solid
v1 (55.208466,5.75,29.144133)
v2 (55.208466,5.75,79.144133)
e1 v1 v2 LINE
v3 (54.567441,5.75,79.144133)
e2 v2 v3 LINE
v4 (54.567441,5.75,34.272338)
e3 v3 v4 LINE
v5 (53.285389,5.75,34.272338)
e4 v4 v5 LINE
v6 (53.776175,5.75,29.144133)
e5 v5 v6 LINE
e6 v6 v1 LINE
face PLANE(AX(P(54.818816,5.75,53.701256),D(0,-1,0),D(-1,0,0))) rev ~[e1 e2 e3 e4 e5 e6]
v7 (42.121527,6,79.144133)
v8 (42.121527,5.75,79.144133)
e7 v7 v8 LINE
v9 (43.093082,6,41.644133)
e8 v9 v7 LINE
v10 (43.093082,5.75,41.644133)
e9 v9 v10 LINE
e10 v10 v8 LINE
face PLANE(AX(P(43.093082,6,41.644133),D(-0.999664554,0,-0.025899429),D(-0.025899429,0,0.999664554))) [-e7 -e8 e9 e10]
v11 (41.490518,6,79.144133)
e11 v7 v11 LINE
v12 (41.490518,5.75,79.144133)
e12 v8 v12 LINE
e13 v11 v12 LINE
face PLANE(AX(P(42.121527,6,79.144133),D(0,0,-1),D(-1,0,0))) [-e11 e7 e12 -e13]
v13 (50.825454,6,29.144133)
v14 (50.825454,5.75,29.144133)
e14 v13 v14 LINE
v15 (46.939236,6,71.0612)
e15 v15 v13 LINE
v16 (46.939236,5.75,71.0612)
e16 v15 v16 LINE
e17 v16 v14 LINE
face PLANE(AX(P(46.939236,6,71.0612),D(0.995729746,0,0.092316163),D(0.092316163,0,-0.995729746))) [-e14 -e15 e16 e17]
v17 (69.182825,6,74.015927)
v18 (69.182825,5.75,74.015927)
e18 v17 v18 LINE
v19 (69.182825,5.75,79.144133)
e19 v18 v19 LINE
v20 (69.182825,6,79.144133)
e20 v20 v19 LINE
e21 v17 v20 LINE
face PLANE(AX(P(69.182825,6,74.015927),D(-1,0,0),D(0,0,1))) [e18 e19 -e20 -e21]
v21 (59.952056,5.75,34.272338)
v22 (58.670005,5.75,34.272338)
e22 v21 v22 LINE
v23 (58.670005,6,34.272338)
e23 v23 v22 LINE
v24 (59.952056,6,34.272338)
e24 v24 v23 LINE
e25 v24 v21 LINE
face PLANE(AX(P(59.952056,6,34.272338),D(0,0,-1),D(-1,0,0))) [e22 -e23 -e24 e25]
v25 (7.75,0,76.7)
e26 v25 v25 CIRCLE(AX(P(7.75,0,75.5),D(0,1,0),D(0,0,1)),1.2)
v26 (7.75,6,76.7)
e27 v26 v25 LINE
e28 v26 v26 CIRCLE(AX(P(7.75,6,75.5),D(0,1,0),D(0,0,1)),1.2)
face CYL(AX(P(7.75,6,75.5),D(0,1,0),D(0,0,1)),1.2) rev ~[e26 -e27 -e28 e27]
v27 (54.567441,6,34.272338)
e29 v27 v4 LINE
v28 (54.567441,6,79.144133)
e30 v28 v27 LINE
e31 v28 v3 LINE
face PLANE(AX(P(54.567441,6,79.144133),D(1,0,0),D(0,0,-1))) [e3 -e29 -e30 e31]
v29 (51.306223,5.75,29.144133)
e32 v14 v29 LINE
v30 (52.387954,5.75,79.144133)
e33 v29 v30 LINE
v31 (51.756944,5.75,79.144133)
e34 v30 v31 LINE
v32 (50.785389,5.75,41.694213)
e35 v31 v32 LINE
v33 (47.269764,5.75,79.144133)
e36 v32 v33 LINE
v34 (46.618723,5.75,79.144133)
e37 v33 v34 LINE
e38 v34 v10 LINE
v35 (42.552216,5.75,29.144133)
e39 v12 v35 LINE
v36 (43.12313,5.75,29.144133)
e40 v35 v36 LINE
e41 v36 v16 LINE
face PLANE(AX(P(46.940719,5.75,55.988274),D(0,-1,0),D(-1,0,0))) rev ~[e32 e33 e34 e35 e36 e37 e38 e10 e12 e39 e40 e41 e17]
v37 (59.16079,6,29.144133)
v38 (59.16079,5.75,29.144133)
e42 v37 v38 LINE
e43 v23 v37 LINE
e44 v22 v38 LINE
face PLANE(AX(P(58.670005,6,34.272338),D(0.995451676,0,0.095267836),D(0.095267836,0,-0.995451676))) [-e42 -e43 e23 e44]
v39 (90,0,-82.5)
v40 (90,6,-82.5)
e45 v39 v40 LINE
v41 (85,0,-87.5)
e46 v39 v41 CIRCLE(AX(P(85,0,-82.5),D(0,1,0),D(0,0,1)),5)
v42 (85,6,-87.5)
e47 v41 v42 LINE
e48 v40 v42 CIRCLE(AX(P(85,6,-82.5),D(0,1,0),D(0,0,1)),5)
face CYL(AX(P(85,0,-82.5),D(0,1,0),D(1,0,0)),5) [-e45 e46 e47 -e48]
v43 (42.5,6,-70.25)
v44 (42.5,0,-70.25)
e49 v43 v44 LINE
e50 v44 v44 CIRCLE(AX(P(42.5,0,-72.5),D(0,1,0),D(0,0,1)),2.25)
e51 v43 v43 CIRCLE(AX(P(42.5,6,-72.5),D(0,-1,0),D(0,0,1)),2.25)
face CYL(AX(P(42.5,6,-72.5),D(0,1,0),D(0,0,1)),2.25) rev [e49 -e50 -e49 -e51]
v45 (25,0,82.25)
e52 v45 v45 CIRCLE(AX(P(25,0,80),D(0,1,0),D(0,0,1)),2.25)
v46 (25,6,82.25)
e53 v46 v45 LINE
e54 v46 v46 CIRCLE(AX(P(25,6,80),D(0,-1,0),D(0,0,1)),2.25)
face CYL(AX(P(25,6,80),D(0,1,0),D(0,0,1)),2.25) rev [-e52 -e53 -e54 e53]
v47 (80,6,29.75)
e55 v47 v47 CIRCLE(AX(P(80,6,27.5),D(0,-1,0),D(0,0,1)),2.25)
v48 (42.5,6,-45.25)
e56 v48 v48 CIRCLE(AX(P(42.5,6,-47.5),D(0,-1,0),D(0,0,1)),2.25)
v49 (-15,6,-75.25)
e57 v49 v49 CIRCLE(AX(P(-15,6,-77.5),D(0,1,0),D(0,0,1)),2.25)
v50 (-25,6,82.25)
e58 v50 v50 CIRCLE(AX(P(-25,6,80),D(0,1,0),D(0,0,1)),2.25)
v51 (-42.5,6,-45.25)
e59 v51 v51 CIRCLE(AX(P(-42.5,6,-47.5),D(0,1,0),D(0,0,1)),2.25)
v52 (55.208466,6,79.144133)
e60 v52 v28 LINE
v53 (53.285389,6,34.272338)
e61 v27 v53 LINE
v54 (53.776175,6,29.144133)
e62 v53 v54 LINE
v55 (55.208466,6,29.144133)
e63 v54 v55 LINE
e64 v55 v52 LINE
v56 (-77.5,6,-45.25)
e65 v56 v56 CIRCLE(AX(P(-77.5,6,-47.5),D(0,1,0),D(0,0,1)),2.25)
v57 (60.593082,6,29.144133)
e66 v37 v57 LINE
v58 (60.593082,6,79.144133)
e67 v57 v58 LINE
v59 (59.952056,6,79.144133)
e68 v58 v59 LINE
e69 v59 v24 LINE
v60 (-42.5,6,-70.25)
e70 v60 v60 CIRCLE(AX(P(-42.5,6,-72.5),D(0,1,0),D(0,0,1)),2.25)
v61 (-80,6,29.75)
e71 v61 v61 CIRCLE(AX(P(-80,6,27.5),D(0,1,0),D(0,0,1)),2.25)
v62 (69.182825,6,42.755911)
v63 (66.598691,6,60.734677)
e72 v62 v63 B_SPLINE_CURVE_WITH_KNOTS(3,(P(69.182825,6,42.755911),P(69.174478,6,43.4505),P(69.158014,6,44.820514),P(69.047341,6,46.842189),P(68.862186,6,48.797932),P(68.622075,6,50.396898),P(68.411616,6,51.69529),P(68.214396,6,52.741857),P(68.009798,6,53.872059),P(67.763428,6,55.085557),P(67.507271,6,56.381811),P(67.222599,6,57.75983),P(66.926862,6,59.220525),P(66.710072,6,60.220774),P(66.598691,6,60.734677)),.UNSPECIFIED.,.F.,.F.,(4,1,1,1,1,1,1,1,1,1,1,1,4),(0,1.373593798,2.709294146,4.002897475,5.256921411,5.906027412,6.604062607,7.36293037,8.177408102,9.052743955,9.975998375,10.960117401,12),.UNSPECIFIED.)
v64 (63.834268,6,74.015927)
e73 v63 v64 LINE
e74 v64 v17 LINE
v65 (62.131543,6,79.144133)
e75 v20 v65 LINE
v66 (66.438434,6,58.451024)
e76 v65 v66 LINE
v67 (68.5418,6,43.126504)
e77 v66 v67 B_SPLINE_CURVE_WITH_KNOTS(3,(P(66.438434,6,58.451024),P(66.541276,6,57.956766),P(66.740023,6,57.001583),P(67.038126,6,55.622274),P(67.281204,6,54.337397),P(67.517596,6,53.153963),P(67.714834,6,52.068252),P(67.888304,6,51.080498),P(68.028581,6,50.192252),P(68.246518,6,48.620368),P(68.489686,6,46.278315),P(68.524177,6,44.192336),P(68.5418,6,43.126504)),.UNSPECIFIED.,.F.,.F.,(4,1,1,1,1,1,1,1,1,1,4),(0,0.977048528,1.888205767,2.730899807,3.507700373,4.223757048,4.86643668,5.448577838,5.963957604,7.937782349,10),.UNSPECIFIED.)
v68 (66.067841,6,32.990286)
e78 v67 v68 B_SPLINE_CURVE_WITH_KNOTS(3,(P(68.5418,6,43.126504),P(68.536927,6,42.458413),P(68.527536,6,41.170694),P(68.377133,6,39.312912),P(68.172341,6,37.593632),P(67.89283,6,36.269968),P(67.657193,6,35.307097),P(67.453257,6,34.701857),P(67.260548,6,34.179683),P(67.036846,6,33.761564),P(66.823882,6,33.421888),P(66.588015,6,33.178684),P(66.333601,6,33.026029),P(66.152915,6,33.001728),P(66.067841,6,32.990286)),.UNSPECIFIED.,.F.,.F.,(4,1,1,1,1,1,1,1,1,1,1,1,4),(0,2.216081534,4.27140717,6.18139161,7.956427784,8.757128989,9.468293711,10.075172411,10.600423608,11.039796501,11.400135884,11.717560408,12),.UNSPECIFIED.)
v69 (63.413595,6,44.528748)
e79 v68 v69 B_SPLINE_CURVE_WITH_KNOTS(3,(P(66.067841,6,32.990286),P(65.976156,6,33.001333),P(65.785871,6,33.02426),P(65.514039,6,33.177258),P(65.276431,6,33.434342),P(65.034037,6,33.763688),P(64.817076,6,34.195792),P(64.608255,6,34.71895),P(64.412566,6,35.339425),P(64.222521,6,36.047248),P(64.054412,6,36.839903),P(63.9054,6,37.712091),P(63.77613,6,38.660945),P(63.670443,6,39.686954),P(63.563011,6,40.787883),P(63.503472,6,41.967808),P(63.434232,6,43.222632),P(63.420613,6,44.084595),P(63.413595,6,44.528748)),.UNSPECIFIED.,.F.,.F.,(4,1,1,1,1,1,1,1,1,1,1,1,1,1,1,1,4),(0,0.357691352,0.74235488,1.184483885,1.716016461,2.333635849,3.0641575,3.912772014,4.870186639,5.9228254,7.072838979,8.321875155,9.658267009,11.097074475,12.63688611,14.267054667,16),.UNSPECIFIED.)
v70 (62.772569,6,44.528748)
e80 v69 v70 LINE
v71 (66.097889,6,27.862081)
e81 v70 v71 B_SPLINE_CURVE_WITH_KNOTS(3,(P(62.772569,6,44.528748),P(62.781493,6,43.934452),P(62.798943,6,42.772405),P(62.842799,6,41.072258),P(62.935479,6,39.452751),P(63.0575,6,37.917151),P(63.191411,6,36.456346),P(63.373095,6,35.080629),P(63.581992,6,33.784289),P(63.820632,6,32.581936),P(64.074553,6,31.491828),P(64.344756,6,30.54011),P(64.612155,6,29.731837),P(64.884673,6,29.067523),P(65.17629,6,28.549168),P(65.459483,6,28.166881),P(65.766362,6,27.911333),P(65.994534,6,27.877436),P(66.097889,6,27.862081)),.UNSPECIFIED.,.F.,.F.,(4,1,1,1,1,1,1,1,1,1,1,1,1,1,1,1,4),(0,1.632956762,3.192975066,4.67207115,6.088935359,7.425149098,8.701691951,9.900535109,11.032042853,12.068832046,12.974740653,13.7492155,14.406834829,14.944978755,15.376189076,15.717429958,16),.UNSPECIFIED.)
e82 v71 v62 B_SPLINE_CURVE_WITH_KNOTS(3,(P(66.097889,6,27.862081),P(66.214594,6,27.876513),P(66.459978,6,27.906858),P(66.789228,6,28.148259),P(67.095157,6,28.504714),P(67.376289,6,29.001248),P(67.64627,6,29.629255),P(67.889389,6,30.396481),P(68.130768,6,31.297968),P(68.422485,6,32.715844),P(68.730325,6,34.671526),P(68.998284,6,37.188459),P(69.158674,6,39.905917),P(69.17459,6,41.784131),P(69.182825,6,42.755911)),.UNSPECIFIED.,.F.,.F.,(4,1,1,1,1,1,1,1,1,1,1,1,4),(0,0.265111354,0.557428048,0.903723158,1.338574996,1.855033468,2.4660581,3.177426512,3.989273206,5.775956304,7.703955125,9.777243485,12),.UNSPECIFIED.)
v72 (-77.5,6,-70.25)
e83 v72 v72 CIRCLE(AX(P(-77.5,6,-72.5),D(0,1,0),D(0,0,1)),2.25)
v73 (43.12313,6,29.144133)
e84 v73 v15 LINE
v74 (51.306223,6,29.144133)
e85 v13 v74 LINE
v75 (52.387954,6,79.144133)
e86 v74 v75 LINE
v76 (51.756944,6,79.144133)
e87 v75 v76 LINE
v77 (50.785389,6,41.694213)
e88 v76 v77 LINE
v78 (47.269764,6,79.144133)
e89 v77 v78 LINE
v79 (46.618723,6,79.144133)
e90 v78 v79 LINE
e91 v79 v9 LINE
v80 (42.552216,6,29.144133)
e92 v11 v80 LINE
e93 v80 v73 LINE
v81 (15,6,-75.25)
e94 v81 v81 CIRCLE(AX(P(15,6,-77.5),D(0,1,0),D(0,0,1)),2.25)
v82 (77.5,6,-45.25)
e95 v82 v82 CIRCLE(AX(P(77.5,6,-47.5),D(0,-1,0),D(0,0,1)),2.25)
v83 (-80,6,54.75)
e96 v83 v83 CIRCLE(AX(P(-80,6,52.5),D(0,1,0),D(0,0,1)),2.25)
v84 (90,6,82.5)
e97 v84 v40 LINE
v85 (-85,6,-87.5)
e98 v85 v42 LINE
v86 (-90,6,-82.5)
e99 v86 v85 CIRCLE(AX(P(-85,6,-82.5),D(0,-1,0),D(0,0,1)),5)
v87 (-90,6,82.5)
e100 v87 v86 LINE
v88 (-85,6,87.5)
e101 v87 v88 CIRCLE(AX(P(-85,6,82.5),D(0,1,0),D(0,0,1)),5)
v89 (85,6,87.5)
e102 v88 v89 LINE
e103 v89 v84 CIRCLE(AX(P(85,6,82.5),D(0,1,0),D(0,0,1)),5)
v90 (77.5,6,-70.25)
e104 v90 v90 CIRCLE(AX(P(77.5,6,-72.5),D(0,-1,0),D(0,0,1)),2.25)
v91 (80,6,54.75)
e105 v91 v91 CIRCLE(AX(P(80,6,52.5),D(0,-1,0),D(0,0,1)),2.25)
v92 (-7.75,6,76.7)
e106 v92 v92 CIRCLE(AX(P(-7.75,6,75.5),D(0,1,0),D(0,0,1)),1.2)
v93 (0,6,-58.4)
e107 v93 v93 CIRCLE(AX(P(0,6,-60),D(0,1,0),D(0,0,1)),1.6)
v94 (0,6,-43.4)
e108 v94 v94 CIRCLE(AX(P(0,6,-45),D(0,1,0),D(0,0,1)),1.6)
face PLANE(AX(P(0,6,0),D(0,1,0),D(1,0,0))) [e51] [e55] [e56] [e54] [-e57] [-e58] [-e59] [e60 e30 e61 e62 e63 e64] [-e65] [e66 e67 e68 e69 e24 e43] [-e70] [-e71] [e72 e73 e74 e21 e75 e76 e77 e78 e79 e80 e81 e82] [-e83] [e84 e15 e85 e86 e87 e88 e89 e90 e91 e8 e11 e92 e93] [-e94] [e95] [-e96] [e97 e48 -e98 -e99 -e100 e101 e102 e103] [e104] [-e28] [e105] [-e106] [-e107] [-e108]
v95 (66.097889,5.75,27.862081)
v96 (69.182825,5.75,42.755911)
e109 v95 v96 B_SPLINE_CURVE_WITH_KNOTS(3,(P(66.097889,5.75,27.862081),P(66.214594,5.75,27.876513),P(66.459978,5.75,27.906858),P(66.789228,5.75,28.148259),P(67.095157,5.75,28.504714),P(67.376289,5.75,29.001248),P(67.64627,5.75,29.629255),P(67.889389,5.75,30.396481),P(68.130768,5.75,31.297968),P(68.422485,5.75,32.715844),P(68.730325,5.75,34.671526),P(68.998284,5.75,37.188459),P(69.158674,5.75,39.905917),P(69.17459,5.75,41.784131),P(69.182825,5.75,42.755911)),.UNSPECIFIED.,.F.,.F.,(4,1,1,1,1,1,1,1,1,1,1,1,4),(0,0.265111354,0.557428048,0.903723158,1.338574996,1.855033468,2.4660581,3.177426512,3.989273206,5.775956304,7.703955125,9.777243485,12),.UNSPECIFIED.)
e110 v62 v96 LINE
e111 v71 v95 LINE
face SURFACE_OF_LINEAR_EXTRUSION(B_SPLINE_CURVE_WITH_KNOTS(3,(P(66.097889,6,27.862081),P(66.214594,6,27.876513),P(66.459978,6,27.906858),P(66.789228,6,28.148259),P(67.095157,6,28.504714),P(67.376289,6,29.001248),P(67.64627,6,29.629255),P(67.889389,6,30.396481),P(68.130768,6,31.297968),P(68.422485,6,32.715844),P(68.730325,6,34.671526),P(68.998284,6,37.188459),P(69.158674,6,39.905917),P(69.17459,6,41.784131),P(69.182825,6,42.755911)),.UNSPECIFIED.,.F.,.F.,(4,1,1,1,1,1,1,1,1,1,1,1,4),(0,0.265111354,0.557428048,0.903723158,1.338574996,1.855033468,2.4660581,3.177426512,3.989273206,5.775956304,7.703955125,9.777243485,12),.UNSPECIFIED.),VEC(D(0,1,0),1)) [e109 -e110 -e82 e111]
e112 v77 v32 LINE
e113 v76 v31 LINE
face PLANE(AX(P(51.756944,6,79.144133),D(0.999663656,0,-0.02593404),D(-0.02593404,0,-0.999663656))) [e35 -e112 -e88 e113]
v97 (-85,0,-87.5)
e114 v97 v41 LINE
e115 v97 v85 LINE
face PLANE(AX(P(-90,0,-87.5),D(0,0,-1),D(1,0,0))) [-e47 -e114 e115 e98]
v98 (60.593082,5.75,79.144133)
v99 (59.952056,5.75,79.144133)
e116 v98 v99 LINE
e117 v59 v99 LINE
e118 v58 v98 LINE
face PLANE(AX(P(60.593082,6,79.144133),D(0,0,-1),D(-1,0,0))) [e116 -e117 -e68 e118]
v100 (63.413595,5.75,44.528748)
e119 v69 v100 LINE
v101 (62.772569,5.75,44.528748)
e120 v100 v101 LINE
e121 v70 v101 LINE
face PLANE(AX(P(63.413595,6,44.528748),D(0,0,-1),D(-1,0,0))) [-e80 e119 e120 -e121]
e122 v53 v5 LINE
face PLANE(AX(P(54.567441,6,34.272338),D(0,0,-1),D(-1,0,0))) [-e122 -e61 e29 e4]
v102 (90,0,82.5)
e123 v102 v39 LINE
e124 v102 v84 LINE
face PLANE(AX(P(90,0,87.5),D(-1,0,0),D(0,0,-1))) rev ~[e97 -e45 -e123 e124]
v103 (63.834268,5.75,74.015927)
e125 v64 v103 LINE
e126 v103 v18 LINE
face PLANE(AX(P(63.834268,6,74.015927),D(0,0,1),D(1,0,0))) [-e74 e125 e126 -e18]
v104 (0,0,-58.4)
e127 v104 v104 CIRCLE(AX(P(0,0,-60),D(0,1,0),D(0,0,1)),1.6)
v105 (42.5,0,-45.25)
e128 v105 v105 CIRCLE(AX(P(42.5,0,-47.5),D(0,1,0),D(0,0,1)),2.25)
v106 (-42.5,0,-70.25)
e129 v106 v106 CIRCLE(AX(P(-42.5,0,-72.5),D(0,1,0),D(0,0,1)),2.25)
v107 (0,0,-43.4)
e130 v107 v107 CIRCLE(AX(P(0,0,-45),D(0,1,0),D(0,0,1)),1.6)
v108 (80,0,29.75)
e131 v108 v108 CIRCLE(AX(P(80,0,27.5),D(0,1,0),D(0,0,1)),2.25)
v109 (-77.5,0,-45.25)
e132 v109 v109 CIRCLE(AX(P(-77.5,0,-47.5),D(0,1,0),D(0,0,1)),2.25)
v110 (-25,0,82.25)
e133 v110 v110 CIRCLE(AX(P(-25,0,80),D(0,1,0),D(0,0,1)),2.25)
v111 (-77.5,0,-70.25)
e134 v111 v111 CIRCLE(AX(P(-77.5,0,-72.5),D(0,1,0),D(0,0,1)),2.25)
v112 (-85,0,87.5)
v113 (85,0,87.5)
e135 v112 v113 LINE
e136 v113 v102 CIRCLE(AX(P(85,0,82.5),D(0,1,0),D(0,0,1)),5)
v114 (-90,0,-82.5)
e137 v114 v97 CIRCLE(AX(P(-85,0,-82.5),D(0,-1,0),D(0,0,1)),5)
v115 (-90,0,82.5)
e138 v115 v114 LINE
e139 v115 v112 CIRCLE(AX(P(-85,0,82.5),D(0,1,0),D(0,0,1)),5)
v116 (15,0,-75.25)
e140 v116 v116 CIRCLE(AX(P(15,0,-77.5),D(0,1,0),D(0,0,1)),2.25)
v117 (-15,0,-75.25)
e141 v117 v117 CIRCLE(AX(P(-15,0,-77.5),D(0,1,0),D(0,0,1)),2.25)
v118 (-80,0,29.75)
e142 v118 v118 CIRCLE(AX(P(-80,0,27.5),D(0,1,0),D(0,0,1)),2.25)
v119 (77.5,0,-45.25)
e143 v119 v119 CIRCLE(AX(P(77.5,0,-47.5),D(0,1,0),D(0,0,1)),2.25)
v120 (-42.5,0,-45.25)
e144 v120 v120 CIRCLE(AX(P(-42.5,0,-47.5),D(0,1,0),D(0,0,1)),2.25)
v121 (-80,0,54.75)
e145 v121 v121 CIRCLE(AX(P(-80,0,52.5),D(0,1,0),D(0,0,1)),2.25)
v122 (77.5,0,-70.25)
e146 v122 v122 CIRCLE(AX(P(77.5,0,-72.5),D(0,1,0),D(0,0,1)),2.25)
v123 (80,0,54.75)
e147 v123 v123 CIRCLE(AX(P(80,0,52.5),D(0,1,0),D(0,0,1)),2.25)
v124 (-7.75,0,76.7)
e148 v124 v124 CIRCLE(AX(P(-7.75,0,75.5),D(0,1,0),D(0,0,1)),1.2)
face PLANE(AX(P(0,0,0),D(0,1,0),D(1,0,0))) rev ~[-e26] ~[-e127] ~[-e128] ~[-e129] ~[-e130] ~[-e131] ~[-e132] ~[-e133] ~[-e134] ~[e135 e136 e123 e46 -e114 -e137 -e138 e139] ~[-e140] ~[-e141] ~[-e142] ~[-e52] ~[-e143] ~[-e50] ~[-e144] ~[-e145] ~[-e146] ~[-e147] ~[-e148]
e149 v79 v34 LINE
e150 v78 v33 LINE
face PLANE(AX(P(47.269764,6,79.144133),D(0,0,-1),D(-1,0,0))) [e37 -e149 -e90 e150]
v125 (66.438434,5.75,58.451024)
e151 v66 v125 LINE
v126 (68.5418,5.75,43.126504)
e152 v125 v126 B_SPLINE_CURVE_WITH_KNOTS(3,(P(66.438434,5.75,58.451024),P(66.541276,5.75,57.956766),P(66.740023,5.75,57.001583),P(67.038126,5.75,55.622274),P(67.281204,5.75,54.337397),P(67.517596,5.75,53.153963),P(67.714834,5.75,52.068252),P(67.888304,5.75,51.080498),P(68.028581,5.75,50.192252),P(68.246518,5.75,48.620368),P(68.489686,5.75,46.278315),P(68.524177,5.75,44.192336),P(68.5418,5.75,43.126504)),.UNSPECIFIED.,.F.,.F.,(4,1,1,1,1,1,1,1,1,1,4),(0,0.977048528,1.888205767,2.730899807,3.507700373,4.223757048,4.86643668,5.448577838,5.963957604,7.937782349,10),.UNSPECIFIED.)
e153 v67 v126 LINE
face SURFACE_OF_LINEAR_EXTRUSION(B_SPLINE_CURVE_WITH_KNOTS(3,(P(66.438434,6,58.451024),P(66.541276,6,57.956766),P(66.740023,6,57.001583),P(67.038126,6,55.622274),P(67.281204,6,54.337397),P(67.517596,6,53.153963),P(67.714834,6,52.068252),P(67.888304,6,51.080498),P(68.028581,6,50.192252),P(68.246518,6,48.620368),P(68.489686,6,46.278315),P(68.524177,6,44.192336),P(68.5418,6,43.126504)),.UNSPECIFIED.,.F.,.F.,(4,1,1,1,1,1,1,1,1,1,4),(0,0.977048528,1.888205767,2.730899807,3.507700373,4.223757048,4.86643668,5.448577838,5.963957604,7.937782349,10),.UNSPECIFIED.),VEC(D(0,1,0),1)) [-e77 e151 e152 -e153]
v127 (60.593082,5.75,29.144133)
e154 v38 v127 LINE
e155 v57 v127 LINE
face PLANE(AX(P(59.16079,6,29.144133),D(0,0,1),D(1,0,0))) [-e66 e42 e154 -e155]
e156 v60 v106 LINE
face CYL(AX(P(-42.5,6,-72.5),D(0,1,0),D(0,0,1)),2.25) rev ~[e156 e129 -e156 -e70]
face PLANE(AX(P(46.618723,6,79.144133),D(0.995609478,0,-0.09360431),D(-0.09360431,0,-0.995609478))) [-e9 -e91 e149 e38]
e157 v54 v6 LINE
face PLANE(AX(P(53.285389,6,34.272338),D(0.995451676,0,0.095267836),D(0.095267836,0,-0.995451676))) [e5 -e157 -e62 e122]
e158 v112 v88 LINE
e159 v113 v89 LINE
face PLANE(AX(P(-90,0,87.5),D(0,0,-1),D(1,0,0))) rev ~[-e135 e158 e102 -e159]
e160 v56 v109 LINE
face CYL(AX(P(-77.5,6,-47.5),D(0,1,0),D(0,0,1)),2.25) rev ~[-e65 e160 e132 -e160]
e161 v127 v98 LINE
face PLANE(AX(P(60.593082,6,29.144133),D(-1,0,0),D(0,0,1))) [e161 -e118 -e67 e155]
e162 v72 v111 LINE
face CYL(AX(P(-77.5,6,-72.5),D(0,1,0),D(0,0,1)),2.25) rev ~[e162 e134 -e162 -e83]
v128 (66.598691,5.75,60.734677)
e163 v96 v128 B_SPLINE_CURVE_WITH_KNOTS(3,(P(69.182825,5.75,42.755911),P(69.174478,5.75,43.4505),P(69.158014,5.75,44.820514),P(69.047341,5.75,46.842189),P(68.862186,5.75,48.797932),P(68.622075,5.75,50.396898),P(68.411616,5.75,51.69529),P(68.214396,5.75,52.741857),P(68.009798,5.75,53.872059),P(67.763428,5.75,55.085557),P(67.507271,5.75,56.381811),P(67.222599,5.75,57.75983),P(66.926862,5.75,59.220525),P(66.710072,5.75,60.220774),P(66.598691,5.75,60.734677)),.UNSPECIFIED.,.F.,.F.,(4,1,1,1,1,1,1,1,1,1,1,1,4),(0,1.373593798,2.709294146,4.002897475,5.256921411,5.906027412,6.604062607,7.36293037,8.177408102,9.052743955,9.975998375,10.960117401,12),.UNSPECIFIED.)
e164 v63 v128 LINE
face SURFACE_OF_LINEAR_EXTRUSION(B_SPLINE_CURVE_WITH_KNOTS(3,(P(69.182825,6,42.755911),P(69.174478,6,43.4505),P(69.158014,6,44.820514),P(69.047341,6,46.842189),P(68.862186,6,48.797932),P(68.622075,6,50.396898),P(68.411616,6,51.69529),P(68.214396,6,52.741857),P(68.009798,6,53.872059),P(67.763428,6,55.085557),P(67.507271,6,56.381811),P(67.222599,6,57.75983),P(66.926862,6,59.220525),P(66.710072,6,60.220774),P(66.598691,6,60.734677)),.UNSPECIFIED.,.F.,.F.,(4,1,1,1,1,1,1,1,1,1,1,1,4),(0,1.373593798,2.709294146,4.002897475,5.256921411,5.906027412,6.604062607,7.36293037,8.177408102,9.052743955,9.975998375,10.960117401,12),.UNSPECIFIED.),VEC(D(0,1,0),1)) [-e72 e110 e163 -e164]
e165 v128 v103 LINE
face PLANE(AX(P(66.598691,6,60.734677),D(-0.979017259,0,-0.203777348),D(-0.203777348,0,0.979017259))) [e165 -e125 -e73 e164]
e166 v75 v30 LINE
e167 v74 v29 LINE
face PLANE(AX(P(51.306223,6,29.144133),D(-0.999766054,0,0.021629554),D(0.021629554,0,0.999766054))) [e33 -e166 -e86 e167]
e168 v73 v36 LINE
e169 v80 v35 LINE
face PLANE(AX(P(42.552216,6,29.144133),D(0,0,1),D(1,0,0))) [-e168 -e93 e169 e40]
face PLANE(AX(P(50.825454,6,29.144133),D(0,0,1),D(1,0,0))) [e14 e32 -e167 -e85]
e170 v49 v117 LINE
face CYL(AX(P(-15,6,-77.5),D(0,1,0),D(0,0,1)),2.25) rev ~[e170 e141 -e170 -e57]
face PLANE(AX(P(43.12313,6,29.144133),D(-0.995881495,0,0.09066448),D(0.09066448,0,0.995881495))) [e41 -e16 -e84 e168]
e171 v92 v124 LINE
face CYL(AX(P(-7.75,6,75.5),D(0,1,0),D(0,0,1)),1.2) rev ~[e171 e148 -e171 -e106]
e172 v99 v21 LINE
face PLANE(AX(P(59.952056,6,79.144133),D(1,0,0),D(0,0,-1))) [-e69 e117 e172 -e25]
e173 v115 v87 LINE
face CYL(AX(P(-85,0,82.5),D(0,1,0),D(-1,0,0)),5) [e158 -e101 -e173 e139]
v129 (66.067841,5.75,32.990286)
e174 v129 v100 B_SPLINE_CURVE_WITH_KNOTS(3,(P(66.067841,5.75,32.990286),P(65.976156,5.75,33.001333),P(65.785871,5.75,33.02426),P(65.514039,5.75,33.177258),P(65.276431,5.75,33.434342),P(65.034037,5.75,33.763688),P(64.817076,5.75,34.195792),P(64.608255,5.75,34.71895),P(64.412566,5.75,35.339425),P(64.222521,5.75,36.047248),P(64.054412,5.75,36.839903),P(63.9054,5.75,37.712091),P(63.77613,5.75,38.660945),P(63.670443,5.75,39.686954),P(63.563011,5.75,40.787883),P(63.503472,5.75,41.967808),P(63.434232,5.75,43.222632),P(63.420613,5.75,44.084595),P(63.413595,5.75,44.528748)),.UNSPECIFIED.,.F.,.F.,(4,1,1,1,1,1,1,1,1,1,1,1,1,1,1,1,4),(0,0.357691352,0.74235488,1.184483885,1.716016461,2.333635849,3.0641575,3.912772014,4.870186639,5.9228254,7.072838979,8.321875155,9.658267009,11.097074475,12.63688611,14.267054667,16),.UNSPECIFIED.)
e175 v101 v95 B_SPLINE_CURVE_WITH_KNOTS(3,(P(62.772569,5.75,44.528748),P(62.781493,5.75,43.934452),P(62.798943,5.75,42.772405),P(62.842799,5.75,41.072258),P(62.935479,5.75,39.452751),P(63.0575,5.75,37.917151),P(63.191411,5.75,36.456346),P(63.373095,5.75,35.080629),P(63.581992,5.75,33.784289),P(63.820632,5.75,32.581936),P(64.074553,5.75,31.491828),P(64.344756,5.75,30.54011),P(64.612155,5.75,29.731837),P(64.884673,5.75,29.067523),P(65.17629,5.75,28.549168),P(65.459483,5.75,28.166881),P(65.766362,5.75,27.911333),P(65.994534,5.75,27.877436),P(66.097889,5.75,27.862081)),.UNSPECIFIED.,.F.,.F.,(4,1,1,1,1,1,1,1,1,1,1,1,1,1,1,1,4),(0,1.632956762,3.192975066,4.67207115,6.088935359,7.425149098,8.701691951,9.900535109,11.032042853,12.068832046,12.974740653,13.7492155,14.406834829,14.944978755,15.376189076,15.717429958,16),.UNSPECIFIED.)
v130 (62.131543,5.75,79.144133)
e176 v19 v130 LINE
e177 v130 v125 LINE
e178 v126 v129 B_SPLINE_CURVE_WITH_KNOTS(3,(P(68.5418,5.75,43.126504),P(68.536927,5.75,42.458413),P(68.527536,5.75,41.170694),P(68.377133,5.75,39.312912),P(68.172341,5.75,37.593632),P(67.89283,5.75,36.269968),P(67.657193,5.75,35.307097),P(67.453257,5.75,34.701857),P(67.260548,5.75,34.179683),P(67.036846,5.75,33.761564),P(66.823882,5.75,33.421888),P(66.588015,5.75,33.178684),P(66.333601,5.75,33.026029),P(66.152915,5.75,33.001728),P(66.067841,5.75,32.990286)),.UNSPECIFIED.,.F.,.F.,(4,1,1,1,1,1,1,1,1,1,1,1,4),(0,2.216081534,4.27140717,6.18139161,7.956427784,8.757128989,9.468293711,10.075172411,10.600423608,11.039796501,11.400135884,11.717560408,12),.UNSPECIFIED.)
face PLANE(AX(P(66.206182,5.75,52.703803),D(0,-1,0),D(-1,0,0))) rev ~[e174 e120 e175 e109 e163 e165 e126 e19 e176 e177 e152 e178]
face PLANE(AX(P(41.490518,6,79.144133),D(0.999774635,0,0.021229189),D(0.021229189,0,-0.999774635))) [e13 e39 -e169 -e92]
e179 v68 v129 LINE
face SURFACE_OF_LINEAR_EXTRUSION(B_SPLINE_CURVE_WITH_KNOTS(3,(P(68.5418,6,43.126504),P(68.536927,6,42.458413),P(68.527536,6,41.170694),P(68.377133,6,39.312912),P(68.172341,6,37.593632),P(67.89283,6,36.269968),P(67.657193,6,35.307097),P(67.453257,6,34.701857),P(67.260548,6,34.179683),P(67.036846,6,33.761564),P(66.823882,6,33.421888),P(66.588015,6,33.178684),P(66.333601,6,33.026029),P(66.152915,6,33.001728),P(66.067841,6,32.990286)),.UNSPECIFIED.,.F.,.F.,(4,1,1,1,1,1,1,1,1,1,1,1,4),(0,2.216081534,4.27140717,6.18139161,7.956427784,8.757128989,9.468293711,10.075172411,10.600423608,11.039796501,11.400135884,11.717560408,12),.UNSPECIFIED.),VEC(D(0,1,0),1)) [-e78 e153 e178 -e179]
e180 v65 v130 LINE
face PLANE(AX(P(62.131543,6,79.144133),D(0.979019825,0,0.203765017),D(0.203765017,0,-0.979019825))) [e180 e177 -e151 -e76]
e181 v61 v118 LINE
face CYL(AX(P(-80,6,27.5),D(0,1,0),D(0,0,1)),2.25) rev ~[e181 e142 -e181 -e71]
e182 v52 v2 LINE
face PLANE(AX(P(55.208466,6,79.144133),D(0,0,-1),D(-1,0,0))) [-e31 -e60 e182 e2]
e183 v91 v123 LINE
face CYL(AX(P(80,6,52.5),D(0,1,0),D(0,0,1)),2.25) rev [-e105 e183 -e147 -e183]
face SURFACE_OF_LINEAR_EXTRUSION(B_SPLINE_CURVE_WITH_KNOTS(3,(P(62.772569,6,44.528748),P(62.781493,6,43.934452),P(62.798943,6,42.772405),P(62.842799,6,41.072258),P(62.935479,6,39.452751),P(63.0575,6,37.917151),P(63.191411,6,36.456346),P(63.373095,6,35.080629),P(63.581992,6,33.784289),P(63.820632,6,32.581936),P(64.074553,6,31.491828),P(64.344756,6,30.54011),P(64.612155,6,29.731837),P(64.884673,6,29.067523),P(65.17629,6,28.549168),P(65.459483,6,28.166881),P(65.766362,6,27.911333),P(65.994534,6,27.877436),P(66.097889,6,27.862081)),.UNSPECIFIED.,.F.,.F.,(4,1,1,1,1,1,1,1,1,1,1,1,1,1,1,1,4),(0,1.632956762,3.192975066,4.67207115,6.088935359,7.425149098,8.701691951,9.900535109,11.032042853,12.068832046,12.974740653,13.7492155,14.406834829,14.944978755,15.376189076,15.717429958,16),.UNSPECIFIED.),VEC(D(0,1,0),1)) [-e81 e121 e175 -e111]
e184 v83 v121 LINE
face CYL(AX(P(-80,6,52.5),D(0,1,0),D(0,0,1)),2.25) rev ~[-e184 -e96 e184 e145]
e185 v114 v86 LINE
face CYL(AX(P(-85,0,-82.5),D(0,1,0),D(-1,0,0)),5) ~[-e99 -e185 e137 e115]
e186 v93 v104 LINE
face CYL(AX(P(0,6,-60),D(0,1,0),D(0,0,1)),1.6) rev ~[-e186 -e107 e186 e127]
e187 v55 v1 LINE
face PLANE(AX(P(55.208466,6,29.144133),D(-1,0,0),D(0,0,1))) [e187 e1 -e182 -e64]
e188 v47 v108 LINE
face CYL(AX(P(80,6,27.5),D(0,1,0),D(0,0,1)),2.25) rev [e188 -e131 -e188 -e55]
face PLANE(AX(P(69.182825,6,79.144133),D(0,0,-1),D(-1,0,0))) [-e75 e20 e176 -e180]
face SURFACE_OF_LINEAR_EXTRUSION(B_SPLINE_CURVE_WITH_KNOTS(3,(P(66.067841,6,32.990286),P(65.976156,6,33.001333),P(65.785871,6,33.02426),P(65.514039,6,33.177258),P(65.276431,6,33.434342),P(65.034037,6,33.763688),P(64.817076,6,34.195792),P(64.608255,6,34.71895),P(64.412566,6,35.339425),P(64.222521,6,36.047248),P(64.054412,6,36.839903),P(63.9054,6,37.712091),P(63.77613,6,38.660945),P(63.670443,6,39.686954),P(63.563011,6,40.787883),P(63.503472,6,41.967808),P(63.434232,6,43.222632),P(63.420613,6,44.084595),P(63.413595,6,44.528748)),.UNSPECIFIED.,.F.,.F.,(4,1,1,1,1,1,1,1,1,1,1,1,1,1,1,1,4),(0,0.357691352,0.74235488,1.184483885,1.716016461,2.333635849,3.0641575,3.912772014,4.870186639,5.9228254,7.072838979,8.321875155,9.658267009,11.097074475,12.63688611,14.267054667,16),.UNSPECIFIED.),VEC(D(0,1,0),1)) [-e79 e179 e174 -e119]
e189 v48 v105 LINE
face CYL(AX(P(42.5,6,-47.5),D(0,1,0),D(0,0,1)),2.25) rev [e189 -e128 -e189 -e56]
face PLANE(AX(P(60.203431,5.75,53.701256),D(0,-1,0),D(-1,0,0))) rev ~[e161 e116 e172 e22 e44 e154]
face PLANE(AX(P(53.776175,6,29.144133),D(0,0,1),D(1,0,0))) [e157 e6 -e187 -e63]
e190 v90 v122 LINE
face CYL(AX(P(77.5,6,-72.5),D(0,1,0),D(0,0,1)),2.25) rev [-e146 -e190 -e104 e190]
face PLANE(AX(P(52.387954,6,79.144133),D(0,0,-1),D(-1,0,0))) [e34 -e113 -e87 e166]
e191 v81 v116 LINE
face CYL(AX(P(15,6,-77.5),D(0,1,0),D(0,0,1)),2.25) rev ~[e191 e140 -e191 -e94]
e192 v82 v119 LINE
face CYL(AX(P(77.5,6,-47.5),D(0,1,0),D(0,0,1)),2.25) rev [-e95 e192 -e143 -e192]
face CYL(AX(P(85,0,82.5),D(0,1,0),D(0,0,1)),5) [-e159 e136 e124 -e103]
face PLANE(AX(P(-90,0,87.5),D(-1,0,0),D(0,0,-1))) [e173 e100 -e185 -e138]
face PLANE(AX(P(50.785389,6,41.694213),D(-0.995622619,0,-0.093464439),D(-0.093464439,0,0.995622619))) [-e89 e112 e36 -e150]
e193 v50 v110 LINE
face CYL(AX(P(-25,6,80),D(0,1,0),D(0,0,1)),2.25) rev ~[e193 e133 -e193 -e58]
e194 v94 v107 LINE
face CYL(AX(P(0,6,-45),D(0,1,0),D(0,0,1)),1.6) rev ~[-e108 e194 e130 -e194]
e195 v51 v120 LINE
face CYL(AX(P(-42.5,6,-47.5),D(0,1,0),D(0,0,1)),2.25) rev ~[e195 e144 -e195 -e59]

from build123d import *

# Parameters (mm, degrees)
SKETCH1_W                 = 180
SKETCH1_H                 = 175
PLATE_DEPTH               = 6
FILLET_CORNERS_R          = 5
SKETCH2_R                 = 2.25
MOTOR_BRACKET_HOLES_DEPTH = 126.667219274
SKETCH3_R                 = 1.2
CASTER_HOLES_DEPTH        = 126.667219274
SKETCH4_R                 = 2.25
ULTRASOUND_HOLES_DEPTH    = 126.667219274
SKETCH6_R                 = 2.25
BATTERY_CAGE_HOLES_DEPTH  = 126.667219274
SKETCH5_R                 = 2.25
FRONT_HOLES_DEPTH         = 126.667219274
TEAM_NAME_DEPTH           = 0.25
SKETCH8_R                 = 1.6
BEACON_HOLES_DEPTH        = 126.667219415


with BuildPart() as part:
    # Sketch1 → plate (new body)
    with BuildSketch(Plane(origin=(0, 0, 0), x_dir=(1, 0, 0), z_dir=(0, 1, 0))):
        Rectangle(SKETCH1_W, SKETCH1_H)
    extrude(amount=PLATE_DEPTH)

    # Fillet corners
    fillet_corners_edges = [part.edges().sort_by_distance(p)[0] for p in [
        (-90, 3, -87.5),
        (90, 3, -87.5),
        (90, 3, 87.5),
        (-90, 3, 87.5),
    ]]
    fillet(fillet_corners_edges, radius=FILLET_CORNERS_R)

    # Sketch2 → motor bracket holes (cut, through all)
    with BuildSketch(Plane(origin=(0, 6, 0), x_dir=(1, 0, 0), z_dir=(0, 1, 0))):
        with Locations(Location((-77.5, 72.5, 0), (0, 0, 270))):
            Circle(SKETCH2_R)
        with Locations(Location((-42.5, 72.5, 0), (0, 0, 270))):
            Circle(SKETCH2_R)
        with Locations(Location((-42.5, 47.5, 0), (0, 0, 270))):
            Circle(SKETCH2_R)
        with Locations(Location((-77.5, 47.5, 0), (0, 0, 270))):
            Circle(SKETCH2_R)
    motor_bracket_holes = extrude(amount=-MOTOR_BRACKET_HOLES_DEPTH, mode=Mode.SUBTRACT)

    # Sketch3 → caster holes (cut, through all)
    with BuildSketch(Plane(origin=(0, 6, 0), x_dir=(1, 0, 0), z_dir=(0, 1, 0))):
        with Locations(Location((-7.75, -75.5, 0), (0, 0, 270))):
            Circle(SKETCH3_R)
        with Locations(Location((7.75, -75.5, 0), (0, 0, 270))):
            Circle(SKETCH3_R)
    extrude(amount=-CASTER_HOLES_DEPTH, mode=Mode.SUBTRACT)

    # Sketch4 → ultrasound holes (cut, through all)
    with BuildSketch(Plane(origin=(0, 6, 0), x_dir=(1, 0, 0), z_dir=(0, 1, 0))):
        with Locations(Location((-80, -52.5, 0), (0, 0, 270))):
            Circle(SKETCH4_R)
        with Locations(Location((-80, -27.5, 0), (0, 0, 270))):
            Circle(SKETCH4_R)
    ultrasound_holes = extrude(amount=-ULTRASOUND_HOLES_DEPTH, mode=Mode.SUBTRACT)

    # Sketch6 → battery cage holes (cut, through all)
    with BuildSketch(Plane(origin=(0, 6, 0), x_dir=(1, 0, 0), z_dir=(0, 1, 0))):
        with Locations(Location((-25, -80, 0), (0, 0, 270))):
            Circle(SKETCH6_R)
    battery_cage_holes = extrude(amount=-BATTERY_CAGE_HOLES_DEPTH, mode=Mode.SUBTRACT)

    # Sketch5 → front holes (cut, through all)
    with BuildSketch(Plane(origin=(0, 6, 0), x_dir=(1, 0, 0), z_dir=(0, 1, 0))):
        with Locations(Location((-15, 77.5, 0), (0, 0, 270))):
            Circle(SKETCH5_R)
        with Locations(Location((15, 77.5, 0), (0, 0, 270))):
            Circle(SKETCH5_R)
    extrude(amount=-FRONT_HOLES_DEPTH, mode=Mode.SUBTRACT)

    # Mirror holes: motor bracket holes, ultrasound holes, battery cage holes across plane
    add(motor_bracket_holes.mirror(Plane(origin=(0, 0, 0), x_dir=(0, 0, 1), z_dir=(1, 0, 0))), mode=Mode.SUBTRACT)
    add(ultrasound_holes.mirror(Plane(origin=(0, 0, 0), x_dir=(0, 0, 1), z_dir=(1, 0, 0))), mode=Mode.SUBTRACT)
    add(battery_cage_holes.mirror(Plane(origin=(0, 0, 0), x_dir=(0, 0, 1), z_dir=(1, 0, 0))), mode=Mode.SUBTRACT)

    # Sketch7 → team name (cut)
    with BuildSketch(Plane(origin=(0, 6, 0), x_dir=(1, 0, 0), z_dir=(0, 1, 0))):
        Polygon((41.490517689, -79.14413255), (42.552216407, -29.14413255), (43.123129869, -29.14413255), (46.939235638, -71.061199858), (50.825453587, -29.14413255), (51.306222818, -29.14413255), (52.387953587, -79.14413255), (51.756943972, -79.14413255), (50.785389484, -41.694212678), (47.269764484, -79.14413255), (46.618722818, -79.14413255), (43.093081792, -41.64413255), (42.121527305, -79.14413255), align=None)
        Polygon((53.776174741, -29.14413255), (55.208466407, -29.14413255), (55.208466407, -79.14413255), (54.567440766, -79.14413255), (54.567440766, -34.272337678), (53.285389484, -34.272337678), align=None)
        Polygon((59.160790125, -29.14413255), (60.593081792, -29.14413255), (60.593081792, -79.14413255), (59.952056151, -79.14413255), (59.952056151, -34.272337678), (58.670004869, -34.272337678), align=None)
        with BuildLine():
            Line((63.413594613, -44.528747935), (62.772568972, -44.528747935))
            add(Edge.make_bspline(
                [(62.772568972, -44.528747935), (62.781493316, -43.93445176), (62.798943386, -42.772404539), (62.842798919, -41.072258174), (62.935478667, -39.452750644), (63.05750017, -37.917150742), (63.19141105, -36.456345848), (63.373095419, -35.080629373), (63.581991977, -33.784289246), (63.820632002, -32.581935586), (64.074552978, -31.491828406), (64.344756451, -30.540110197), (64.61215525, -29.731836807), (64.884672979, -29.067522721), (65.17629041, -28.549168463), (65.459482684, -28.166880995), (65.766362376, -27.911333409), (65.994533796, -27.877435937), (66.097889484, -27.862081268)],
                knots=[0, 0, 0, 0, 1.632956762, 3.192975066, 4.67207115, 6.088935359, 7.425149098, 8.701691951, 9.900535109, 11.032042853, 12.068832046, 12.974740653, 13.7492155, 14.406834829, 14.944978755, 15.376189076, 15.717429958, 16, 16, 16, 16], degree=3))
            add(Edge.make_bspline(
                [(66.097889484, -27.862081268), (66.214593659, -27.876513312), (66.459978019, -27.906858394), (66.789228182, -28.148258945), (67.095157034, -28.504713995), (67.376289014, -29.00124848), (67.646270357, -29.629255057), (67.889389184, -30.396480918), (68.13076794, -31.297967968), (68.422485253, -32.715843502), (68.730325215, -34.671525798), (68.998284034, -37.188458627), (69.158674349, -39.905916797), (69.174590453, -41.784130898), (69.182825382, -42.755911396)],
                knots=[0, 0, 0, 0, 0.265111354, 0.557428048, 0.903723158, 1.338574996, 1.855033468, 2.4660581, 3.177426512, 3.989273206, 5.775956304, 7.703955125, 9.777243485, 12, 12, 12, 12], degree=3))
            add(Edge.make_bspline(
                [(69.182825382, -42.755911396), (69.174478109, -43.45049961), (69.15801384, -44.820514374), (69.047340862, -46.842189249), (68.862186477, -48.797931916), (68.622075004, -50.396898082), (68.411616198, -51.695290325), (68.214396392, -52.741857038), (68.009797757, -53.872058653), (67.763428304, -55.085556549), (67.507271104, -56.381810617), (67.222599468, -57.759829632), (66.926861643, -59.220525286), (66.710071993, -60.220774042), (66.598690766, -60.734677422)],
                knots=[0, 0, 0, 0, 1.373593798, 2.709294146, 4.002897475, 5.256921411, 5.906027412, 6.604062607, 7.36293037, 8.177408102, 9.052743955, 9.975998375, 10.960117401, 12, 12, 12, 12], degree=3))
            Line((66.598690766, -60.734677422), (63.834267689, -74.015927422))
            Line((63.834267689, -74.015927422), (69.182825382, -74.015927422))
            Line((69.182825382, -74.015927422), (69.182825382, -79.14413255))
            Line((69.182825382, -79.14413255), (62.13154333, -79.14413255))
            Line((62.13154333, -79.14413255), (66.438434356, -58.451023576))
            add(Edge.make_bspline(
                [(66.438434356, -58.451023576), (66.541275625, -57.956765987), (66.740022638, -57.001583104), (67.038126467, -55.62227416), (67.281204083, -54.337396726), (67.517596013, -53.153963402), (67.714834282, -52.068252304), (67.888303774, -51.080497667), (68.028581018, -50.192251945), (68.246517983, -48.62036821), (68.489685546, -46.278314551), (68.524176548, -44.192336007), (68.541799741, -43.126504345)],
                knots=[0, 0, 0, 0, 0.977048528, 1.888205767, 2.730899807, 3.507700373, 4.223757048, 4.86643668, 5.448577838, 5.963957604, 7.937782349, 10, 10, 10, 10], degree=3))
            add(Edge.make_bspline(
                [(68.541799741, -43.126504345), (68.536927467, -42.458412904), (68.527536358, -41.170693779), (68.377133023, -39.312911942), (68.172341189, -37.593632449), (67.892830311, -36.269968348), (67.657192593, -35.307097273), (67.453256742, -34.701856907), (67.260548337, -34.179683247), (67.036846336, -33.761564083), (66.823881555, -33.42188765), (66.588014894, -33.178683952), (66.333600869, -33.026029048), (66.152915281, -33.001728194), (66.067841407, -32.990286396)],
                knots=[0, 0, 0, 0, 2.216081534, 4.27140717, 6.18139161, 7.956427784, 8.757128989, 9.468293711, 10.075172411, 10.600423608, 11.039796501, 11.400135884, 11.717560408, 12, 12, 12, 12], degree=3))
            add(Edge.make_bspline(
                [(66.067841407, -32.990286396), (65.976155684, -33.00133342), (65.785870557, -33.024260481), (65.514038504, -33.177258474), (65.276430893, -33.434342115), (65.034037095, -33.763688283), (64.817075996, -34.1957923), (64.608254954, -34.718950361), (64.4125659, -35.339425303), (64.222521115, -36.047247528), (64.054411991, -36.839902752), (63.905399587, -37.712091101), (63.776129767, -38.660944953), (63.670442917, -39.686954193), (63.563011117, -40.787882759), (63.503471574, -41.967808104), (63.434232438, -43.222631631), (63.420612628, -44.084595296), (63.413594613, -44.528747935)],
                knots=[0, 0, 0, 0, 0.357691352, 0.74235488, 1.184483885, 1.716016461, 2.333635849, 3.0641575, 3.912772014, 4.870186639, 5.9228254, 7.072838979, 8.321875155, 9.658267009, 11.097074475, 12.63688611, 14.267054667, 16, 16, 16, 16], degree=3))
        make_face()
    extrude(amount=-TEAM_NAME_DEPTH, mode=Mode.SUBTRACT)

    # Sketch8 → beacon holes (cut, through all)
    with BuildSketch(Plane(origin=(0, 6, 0), x_dir=(1, 0, 0), z_dir=(0, 1, 0))):
        with Locations(Location((0, 45, 0), (0, 0, 270))):
            Circle(SKETCH8_R)
        with Locations(Location((0, 60, 0), (0, 0, 270))):
            Circle(SKETCH8_R)
    extrude(amount=-BEACON_HOLES_DEPTH, mode=Mode.SUBTRACT)


solid = part.part
